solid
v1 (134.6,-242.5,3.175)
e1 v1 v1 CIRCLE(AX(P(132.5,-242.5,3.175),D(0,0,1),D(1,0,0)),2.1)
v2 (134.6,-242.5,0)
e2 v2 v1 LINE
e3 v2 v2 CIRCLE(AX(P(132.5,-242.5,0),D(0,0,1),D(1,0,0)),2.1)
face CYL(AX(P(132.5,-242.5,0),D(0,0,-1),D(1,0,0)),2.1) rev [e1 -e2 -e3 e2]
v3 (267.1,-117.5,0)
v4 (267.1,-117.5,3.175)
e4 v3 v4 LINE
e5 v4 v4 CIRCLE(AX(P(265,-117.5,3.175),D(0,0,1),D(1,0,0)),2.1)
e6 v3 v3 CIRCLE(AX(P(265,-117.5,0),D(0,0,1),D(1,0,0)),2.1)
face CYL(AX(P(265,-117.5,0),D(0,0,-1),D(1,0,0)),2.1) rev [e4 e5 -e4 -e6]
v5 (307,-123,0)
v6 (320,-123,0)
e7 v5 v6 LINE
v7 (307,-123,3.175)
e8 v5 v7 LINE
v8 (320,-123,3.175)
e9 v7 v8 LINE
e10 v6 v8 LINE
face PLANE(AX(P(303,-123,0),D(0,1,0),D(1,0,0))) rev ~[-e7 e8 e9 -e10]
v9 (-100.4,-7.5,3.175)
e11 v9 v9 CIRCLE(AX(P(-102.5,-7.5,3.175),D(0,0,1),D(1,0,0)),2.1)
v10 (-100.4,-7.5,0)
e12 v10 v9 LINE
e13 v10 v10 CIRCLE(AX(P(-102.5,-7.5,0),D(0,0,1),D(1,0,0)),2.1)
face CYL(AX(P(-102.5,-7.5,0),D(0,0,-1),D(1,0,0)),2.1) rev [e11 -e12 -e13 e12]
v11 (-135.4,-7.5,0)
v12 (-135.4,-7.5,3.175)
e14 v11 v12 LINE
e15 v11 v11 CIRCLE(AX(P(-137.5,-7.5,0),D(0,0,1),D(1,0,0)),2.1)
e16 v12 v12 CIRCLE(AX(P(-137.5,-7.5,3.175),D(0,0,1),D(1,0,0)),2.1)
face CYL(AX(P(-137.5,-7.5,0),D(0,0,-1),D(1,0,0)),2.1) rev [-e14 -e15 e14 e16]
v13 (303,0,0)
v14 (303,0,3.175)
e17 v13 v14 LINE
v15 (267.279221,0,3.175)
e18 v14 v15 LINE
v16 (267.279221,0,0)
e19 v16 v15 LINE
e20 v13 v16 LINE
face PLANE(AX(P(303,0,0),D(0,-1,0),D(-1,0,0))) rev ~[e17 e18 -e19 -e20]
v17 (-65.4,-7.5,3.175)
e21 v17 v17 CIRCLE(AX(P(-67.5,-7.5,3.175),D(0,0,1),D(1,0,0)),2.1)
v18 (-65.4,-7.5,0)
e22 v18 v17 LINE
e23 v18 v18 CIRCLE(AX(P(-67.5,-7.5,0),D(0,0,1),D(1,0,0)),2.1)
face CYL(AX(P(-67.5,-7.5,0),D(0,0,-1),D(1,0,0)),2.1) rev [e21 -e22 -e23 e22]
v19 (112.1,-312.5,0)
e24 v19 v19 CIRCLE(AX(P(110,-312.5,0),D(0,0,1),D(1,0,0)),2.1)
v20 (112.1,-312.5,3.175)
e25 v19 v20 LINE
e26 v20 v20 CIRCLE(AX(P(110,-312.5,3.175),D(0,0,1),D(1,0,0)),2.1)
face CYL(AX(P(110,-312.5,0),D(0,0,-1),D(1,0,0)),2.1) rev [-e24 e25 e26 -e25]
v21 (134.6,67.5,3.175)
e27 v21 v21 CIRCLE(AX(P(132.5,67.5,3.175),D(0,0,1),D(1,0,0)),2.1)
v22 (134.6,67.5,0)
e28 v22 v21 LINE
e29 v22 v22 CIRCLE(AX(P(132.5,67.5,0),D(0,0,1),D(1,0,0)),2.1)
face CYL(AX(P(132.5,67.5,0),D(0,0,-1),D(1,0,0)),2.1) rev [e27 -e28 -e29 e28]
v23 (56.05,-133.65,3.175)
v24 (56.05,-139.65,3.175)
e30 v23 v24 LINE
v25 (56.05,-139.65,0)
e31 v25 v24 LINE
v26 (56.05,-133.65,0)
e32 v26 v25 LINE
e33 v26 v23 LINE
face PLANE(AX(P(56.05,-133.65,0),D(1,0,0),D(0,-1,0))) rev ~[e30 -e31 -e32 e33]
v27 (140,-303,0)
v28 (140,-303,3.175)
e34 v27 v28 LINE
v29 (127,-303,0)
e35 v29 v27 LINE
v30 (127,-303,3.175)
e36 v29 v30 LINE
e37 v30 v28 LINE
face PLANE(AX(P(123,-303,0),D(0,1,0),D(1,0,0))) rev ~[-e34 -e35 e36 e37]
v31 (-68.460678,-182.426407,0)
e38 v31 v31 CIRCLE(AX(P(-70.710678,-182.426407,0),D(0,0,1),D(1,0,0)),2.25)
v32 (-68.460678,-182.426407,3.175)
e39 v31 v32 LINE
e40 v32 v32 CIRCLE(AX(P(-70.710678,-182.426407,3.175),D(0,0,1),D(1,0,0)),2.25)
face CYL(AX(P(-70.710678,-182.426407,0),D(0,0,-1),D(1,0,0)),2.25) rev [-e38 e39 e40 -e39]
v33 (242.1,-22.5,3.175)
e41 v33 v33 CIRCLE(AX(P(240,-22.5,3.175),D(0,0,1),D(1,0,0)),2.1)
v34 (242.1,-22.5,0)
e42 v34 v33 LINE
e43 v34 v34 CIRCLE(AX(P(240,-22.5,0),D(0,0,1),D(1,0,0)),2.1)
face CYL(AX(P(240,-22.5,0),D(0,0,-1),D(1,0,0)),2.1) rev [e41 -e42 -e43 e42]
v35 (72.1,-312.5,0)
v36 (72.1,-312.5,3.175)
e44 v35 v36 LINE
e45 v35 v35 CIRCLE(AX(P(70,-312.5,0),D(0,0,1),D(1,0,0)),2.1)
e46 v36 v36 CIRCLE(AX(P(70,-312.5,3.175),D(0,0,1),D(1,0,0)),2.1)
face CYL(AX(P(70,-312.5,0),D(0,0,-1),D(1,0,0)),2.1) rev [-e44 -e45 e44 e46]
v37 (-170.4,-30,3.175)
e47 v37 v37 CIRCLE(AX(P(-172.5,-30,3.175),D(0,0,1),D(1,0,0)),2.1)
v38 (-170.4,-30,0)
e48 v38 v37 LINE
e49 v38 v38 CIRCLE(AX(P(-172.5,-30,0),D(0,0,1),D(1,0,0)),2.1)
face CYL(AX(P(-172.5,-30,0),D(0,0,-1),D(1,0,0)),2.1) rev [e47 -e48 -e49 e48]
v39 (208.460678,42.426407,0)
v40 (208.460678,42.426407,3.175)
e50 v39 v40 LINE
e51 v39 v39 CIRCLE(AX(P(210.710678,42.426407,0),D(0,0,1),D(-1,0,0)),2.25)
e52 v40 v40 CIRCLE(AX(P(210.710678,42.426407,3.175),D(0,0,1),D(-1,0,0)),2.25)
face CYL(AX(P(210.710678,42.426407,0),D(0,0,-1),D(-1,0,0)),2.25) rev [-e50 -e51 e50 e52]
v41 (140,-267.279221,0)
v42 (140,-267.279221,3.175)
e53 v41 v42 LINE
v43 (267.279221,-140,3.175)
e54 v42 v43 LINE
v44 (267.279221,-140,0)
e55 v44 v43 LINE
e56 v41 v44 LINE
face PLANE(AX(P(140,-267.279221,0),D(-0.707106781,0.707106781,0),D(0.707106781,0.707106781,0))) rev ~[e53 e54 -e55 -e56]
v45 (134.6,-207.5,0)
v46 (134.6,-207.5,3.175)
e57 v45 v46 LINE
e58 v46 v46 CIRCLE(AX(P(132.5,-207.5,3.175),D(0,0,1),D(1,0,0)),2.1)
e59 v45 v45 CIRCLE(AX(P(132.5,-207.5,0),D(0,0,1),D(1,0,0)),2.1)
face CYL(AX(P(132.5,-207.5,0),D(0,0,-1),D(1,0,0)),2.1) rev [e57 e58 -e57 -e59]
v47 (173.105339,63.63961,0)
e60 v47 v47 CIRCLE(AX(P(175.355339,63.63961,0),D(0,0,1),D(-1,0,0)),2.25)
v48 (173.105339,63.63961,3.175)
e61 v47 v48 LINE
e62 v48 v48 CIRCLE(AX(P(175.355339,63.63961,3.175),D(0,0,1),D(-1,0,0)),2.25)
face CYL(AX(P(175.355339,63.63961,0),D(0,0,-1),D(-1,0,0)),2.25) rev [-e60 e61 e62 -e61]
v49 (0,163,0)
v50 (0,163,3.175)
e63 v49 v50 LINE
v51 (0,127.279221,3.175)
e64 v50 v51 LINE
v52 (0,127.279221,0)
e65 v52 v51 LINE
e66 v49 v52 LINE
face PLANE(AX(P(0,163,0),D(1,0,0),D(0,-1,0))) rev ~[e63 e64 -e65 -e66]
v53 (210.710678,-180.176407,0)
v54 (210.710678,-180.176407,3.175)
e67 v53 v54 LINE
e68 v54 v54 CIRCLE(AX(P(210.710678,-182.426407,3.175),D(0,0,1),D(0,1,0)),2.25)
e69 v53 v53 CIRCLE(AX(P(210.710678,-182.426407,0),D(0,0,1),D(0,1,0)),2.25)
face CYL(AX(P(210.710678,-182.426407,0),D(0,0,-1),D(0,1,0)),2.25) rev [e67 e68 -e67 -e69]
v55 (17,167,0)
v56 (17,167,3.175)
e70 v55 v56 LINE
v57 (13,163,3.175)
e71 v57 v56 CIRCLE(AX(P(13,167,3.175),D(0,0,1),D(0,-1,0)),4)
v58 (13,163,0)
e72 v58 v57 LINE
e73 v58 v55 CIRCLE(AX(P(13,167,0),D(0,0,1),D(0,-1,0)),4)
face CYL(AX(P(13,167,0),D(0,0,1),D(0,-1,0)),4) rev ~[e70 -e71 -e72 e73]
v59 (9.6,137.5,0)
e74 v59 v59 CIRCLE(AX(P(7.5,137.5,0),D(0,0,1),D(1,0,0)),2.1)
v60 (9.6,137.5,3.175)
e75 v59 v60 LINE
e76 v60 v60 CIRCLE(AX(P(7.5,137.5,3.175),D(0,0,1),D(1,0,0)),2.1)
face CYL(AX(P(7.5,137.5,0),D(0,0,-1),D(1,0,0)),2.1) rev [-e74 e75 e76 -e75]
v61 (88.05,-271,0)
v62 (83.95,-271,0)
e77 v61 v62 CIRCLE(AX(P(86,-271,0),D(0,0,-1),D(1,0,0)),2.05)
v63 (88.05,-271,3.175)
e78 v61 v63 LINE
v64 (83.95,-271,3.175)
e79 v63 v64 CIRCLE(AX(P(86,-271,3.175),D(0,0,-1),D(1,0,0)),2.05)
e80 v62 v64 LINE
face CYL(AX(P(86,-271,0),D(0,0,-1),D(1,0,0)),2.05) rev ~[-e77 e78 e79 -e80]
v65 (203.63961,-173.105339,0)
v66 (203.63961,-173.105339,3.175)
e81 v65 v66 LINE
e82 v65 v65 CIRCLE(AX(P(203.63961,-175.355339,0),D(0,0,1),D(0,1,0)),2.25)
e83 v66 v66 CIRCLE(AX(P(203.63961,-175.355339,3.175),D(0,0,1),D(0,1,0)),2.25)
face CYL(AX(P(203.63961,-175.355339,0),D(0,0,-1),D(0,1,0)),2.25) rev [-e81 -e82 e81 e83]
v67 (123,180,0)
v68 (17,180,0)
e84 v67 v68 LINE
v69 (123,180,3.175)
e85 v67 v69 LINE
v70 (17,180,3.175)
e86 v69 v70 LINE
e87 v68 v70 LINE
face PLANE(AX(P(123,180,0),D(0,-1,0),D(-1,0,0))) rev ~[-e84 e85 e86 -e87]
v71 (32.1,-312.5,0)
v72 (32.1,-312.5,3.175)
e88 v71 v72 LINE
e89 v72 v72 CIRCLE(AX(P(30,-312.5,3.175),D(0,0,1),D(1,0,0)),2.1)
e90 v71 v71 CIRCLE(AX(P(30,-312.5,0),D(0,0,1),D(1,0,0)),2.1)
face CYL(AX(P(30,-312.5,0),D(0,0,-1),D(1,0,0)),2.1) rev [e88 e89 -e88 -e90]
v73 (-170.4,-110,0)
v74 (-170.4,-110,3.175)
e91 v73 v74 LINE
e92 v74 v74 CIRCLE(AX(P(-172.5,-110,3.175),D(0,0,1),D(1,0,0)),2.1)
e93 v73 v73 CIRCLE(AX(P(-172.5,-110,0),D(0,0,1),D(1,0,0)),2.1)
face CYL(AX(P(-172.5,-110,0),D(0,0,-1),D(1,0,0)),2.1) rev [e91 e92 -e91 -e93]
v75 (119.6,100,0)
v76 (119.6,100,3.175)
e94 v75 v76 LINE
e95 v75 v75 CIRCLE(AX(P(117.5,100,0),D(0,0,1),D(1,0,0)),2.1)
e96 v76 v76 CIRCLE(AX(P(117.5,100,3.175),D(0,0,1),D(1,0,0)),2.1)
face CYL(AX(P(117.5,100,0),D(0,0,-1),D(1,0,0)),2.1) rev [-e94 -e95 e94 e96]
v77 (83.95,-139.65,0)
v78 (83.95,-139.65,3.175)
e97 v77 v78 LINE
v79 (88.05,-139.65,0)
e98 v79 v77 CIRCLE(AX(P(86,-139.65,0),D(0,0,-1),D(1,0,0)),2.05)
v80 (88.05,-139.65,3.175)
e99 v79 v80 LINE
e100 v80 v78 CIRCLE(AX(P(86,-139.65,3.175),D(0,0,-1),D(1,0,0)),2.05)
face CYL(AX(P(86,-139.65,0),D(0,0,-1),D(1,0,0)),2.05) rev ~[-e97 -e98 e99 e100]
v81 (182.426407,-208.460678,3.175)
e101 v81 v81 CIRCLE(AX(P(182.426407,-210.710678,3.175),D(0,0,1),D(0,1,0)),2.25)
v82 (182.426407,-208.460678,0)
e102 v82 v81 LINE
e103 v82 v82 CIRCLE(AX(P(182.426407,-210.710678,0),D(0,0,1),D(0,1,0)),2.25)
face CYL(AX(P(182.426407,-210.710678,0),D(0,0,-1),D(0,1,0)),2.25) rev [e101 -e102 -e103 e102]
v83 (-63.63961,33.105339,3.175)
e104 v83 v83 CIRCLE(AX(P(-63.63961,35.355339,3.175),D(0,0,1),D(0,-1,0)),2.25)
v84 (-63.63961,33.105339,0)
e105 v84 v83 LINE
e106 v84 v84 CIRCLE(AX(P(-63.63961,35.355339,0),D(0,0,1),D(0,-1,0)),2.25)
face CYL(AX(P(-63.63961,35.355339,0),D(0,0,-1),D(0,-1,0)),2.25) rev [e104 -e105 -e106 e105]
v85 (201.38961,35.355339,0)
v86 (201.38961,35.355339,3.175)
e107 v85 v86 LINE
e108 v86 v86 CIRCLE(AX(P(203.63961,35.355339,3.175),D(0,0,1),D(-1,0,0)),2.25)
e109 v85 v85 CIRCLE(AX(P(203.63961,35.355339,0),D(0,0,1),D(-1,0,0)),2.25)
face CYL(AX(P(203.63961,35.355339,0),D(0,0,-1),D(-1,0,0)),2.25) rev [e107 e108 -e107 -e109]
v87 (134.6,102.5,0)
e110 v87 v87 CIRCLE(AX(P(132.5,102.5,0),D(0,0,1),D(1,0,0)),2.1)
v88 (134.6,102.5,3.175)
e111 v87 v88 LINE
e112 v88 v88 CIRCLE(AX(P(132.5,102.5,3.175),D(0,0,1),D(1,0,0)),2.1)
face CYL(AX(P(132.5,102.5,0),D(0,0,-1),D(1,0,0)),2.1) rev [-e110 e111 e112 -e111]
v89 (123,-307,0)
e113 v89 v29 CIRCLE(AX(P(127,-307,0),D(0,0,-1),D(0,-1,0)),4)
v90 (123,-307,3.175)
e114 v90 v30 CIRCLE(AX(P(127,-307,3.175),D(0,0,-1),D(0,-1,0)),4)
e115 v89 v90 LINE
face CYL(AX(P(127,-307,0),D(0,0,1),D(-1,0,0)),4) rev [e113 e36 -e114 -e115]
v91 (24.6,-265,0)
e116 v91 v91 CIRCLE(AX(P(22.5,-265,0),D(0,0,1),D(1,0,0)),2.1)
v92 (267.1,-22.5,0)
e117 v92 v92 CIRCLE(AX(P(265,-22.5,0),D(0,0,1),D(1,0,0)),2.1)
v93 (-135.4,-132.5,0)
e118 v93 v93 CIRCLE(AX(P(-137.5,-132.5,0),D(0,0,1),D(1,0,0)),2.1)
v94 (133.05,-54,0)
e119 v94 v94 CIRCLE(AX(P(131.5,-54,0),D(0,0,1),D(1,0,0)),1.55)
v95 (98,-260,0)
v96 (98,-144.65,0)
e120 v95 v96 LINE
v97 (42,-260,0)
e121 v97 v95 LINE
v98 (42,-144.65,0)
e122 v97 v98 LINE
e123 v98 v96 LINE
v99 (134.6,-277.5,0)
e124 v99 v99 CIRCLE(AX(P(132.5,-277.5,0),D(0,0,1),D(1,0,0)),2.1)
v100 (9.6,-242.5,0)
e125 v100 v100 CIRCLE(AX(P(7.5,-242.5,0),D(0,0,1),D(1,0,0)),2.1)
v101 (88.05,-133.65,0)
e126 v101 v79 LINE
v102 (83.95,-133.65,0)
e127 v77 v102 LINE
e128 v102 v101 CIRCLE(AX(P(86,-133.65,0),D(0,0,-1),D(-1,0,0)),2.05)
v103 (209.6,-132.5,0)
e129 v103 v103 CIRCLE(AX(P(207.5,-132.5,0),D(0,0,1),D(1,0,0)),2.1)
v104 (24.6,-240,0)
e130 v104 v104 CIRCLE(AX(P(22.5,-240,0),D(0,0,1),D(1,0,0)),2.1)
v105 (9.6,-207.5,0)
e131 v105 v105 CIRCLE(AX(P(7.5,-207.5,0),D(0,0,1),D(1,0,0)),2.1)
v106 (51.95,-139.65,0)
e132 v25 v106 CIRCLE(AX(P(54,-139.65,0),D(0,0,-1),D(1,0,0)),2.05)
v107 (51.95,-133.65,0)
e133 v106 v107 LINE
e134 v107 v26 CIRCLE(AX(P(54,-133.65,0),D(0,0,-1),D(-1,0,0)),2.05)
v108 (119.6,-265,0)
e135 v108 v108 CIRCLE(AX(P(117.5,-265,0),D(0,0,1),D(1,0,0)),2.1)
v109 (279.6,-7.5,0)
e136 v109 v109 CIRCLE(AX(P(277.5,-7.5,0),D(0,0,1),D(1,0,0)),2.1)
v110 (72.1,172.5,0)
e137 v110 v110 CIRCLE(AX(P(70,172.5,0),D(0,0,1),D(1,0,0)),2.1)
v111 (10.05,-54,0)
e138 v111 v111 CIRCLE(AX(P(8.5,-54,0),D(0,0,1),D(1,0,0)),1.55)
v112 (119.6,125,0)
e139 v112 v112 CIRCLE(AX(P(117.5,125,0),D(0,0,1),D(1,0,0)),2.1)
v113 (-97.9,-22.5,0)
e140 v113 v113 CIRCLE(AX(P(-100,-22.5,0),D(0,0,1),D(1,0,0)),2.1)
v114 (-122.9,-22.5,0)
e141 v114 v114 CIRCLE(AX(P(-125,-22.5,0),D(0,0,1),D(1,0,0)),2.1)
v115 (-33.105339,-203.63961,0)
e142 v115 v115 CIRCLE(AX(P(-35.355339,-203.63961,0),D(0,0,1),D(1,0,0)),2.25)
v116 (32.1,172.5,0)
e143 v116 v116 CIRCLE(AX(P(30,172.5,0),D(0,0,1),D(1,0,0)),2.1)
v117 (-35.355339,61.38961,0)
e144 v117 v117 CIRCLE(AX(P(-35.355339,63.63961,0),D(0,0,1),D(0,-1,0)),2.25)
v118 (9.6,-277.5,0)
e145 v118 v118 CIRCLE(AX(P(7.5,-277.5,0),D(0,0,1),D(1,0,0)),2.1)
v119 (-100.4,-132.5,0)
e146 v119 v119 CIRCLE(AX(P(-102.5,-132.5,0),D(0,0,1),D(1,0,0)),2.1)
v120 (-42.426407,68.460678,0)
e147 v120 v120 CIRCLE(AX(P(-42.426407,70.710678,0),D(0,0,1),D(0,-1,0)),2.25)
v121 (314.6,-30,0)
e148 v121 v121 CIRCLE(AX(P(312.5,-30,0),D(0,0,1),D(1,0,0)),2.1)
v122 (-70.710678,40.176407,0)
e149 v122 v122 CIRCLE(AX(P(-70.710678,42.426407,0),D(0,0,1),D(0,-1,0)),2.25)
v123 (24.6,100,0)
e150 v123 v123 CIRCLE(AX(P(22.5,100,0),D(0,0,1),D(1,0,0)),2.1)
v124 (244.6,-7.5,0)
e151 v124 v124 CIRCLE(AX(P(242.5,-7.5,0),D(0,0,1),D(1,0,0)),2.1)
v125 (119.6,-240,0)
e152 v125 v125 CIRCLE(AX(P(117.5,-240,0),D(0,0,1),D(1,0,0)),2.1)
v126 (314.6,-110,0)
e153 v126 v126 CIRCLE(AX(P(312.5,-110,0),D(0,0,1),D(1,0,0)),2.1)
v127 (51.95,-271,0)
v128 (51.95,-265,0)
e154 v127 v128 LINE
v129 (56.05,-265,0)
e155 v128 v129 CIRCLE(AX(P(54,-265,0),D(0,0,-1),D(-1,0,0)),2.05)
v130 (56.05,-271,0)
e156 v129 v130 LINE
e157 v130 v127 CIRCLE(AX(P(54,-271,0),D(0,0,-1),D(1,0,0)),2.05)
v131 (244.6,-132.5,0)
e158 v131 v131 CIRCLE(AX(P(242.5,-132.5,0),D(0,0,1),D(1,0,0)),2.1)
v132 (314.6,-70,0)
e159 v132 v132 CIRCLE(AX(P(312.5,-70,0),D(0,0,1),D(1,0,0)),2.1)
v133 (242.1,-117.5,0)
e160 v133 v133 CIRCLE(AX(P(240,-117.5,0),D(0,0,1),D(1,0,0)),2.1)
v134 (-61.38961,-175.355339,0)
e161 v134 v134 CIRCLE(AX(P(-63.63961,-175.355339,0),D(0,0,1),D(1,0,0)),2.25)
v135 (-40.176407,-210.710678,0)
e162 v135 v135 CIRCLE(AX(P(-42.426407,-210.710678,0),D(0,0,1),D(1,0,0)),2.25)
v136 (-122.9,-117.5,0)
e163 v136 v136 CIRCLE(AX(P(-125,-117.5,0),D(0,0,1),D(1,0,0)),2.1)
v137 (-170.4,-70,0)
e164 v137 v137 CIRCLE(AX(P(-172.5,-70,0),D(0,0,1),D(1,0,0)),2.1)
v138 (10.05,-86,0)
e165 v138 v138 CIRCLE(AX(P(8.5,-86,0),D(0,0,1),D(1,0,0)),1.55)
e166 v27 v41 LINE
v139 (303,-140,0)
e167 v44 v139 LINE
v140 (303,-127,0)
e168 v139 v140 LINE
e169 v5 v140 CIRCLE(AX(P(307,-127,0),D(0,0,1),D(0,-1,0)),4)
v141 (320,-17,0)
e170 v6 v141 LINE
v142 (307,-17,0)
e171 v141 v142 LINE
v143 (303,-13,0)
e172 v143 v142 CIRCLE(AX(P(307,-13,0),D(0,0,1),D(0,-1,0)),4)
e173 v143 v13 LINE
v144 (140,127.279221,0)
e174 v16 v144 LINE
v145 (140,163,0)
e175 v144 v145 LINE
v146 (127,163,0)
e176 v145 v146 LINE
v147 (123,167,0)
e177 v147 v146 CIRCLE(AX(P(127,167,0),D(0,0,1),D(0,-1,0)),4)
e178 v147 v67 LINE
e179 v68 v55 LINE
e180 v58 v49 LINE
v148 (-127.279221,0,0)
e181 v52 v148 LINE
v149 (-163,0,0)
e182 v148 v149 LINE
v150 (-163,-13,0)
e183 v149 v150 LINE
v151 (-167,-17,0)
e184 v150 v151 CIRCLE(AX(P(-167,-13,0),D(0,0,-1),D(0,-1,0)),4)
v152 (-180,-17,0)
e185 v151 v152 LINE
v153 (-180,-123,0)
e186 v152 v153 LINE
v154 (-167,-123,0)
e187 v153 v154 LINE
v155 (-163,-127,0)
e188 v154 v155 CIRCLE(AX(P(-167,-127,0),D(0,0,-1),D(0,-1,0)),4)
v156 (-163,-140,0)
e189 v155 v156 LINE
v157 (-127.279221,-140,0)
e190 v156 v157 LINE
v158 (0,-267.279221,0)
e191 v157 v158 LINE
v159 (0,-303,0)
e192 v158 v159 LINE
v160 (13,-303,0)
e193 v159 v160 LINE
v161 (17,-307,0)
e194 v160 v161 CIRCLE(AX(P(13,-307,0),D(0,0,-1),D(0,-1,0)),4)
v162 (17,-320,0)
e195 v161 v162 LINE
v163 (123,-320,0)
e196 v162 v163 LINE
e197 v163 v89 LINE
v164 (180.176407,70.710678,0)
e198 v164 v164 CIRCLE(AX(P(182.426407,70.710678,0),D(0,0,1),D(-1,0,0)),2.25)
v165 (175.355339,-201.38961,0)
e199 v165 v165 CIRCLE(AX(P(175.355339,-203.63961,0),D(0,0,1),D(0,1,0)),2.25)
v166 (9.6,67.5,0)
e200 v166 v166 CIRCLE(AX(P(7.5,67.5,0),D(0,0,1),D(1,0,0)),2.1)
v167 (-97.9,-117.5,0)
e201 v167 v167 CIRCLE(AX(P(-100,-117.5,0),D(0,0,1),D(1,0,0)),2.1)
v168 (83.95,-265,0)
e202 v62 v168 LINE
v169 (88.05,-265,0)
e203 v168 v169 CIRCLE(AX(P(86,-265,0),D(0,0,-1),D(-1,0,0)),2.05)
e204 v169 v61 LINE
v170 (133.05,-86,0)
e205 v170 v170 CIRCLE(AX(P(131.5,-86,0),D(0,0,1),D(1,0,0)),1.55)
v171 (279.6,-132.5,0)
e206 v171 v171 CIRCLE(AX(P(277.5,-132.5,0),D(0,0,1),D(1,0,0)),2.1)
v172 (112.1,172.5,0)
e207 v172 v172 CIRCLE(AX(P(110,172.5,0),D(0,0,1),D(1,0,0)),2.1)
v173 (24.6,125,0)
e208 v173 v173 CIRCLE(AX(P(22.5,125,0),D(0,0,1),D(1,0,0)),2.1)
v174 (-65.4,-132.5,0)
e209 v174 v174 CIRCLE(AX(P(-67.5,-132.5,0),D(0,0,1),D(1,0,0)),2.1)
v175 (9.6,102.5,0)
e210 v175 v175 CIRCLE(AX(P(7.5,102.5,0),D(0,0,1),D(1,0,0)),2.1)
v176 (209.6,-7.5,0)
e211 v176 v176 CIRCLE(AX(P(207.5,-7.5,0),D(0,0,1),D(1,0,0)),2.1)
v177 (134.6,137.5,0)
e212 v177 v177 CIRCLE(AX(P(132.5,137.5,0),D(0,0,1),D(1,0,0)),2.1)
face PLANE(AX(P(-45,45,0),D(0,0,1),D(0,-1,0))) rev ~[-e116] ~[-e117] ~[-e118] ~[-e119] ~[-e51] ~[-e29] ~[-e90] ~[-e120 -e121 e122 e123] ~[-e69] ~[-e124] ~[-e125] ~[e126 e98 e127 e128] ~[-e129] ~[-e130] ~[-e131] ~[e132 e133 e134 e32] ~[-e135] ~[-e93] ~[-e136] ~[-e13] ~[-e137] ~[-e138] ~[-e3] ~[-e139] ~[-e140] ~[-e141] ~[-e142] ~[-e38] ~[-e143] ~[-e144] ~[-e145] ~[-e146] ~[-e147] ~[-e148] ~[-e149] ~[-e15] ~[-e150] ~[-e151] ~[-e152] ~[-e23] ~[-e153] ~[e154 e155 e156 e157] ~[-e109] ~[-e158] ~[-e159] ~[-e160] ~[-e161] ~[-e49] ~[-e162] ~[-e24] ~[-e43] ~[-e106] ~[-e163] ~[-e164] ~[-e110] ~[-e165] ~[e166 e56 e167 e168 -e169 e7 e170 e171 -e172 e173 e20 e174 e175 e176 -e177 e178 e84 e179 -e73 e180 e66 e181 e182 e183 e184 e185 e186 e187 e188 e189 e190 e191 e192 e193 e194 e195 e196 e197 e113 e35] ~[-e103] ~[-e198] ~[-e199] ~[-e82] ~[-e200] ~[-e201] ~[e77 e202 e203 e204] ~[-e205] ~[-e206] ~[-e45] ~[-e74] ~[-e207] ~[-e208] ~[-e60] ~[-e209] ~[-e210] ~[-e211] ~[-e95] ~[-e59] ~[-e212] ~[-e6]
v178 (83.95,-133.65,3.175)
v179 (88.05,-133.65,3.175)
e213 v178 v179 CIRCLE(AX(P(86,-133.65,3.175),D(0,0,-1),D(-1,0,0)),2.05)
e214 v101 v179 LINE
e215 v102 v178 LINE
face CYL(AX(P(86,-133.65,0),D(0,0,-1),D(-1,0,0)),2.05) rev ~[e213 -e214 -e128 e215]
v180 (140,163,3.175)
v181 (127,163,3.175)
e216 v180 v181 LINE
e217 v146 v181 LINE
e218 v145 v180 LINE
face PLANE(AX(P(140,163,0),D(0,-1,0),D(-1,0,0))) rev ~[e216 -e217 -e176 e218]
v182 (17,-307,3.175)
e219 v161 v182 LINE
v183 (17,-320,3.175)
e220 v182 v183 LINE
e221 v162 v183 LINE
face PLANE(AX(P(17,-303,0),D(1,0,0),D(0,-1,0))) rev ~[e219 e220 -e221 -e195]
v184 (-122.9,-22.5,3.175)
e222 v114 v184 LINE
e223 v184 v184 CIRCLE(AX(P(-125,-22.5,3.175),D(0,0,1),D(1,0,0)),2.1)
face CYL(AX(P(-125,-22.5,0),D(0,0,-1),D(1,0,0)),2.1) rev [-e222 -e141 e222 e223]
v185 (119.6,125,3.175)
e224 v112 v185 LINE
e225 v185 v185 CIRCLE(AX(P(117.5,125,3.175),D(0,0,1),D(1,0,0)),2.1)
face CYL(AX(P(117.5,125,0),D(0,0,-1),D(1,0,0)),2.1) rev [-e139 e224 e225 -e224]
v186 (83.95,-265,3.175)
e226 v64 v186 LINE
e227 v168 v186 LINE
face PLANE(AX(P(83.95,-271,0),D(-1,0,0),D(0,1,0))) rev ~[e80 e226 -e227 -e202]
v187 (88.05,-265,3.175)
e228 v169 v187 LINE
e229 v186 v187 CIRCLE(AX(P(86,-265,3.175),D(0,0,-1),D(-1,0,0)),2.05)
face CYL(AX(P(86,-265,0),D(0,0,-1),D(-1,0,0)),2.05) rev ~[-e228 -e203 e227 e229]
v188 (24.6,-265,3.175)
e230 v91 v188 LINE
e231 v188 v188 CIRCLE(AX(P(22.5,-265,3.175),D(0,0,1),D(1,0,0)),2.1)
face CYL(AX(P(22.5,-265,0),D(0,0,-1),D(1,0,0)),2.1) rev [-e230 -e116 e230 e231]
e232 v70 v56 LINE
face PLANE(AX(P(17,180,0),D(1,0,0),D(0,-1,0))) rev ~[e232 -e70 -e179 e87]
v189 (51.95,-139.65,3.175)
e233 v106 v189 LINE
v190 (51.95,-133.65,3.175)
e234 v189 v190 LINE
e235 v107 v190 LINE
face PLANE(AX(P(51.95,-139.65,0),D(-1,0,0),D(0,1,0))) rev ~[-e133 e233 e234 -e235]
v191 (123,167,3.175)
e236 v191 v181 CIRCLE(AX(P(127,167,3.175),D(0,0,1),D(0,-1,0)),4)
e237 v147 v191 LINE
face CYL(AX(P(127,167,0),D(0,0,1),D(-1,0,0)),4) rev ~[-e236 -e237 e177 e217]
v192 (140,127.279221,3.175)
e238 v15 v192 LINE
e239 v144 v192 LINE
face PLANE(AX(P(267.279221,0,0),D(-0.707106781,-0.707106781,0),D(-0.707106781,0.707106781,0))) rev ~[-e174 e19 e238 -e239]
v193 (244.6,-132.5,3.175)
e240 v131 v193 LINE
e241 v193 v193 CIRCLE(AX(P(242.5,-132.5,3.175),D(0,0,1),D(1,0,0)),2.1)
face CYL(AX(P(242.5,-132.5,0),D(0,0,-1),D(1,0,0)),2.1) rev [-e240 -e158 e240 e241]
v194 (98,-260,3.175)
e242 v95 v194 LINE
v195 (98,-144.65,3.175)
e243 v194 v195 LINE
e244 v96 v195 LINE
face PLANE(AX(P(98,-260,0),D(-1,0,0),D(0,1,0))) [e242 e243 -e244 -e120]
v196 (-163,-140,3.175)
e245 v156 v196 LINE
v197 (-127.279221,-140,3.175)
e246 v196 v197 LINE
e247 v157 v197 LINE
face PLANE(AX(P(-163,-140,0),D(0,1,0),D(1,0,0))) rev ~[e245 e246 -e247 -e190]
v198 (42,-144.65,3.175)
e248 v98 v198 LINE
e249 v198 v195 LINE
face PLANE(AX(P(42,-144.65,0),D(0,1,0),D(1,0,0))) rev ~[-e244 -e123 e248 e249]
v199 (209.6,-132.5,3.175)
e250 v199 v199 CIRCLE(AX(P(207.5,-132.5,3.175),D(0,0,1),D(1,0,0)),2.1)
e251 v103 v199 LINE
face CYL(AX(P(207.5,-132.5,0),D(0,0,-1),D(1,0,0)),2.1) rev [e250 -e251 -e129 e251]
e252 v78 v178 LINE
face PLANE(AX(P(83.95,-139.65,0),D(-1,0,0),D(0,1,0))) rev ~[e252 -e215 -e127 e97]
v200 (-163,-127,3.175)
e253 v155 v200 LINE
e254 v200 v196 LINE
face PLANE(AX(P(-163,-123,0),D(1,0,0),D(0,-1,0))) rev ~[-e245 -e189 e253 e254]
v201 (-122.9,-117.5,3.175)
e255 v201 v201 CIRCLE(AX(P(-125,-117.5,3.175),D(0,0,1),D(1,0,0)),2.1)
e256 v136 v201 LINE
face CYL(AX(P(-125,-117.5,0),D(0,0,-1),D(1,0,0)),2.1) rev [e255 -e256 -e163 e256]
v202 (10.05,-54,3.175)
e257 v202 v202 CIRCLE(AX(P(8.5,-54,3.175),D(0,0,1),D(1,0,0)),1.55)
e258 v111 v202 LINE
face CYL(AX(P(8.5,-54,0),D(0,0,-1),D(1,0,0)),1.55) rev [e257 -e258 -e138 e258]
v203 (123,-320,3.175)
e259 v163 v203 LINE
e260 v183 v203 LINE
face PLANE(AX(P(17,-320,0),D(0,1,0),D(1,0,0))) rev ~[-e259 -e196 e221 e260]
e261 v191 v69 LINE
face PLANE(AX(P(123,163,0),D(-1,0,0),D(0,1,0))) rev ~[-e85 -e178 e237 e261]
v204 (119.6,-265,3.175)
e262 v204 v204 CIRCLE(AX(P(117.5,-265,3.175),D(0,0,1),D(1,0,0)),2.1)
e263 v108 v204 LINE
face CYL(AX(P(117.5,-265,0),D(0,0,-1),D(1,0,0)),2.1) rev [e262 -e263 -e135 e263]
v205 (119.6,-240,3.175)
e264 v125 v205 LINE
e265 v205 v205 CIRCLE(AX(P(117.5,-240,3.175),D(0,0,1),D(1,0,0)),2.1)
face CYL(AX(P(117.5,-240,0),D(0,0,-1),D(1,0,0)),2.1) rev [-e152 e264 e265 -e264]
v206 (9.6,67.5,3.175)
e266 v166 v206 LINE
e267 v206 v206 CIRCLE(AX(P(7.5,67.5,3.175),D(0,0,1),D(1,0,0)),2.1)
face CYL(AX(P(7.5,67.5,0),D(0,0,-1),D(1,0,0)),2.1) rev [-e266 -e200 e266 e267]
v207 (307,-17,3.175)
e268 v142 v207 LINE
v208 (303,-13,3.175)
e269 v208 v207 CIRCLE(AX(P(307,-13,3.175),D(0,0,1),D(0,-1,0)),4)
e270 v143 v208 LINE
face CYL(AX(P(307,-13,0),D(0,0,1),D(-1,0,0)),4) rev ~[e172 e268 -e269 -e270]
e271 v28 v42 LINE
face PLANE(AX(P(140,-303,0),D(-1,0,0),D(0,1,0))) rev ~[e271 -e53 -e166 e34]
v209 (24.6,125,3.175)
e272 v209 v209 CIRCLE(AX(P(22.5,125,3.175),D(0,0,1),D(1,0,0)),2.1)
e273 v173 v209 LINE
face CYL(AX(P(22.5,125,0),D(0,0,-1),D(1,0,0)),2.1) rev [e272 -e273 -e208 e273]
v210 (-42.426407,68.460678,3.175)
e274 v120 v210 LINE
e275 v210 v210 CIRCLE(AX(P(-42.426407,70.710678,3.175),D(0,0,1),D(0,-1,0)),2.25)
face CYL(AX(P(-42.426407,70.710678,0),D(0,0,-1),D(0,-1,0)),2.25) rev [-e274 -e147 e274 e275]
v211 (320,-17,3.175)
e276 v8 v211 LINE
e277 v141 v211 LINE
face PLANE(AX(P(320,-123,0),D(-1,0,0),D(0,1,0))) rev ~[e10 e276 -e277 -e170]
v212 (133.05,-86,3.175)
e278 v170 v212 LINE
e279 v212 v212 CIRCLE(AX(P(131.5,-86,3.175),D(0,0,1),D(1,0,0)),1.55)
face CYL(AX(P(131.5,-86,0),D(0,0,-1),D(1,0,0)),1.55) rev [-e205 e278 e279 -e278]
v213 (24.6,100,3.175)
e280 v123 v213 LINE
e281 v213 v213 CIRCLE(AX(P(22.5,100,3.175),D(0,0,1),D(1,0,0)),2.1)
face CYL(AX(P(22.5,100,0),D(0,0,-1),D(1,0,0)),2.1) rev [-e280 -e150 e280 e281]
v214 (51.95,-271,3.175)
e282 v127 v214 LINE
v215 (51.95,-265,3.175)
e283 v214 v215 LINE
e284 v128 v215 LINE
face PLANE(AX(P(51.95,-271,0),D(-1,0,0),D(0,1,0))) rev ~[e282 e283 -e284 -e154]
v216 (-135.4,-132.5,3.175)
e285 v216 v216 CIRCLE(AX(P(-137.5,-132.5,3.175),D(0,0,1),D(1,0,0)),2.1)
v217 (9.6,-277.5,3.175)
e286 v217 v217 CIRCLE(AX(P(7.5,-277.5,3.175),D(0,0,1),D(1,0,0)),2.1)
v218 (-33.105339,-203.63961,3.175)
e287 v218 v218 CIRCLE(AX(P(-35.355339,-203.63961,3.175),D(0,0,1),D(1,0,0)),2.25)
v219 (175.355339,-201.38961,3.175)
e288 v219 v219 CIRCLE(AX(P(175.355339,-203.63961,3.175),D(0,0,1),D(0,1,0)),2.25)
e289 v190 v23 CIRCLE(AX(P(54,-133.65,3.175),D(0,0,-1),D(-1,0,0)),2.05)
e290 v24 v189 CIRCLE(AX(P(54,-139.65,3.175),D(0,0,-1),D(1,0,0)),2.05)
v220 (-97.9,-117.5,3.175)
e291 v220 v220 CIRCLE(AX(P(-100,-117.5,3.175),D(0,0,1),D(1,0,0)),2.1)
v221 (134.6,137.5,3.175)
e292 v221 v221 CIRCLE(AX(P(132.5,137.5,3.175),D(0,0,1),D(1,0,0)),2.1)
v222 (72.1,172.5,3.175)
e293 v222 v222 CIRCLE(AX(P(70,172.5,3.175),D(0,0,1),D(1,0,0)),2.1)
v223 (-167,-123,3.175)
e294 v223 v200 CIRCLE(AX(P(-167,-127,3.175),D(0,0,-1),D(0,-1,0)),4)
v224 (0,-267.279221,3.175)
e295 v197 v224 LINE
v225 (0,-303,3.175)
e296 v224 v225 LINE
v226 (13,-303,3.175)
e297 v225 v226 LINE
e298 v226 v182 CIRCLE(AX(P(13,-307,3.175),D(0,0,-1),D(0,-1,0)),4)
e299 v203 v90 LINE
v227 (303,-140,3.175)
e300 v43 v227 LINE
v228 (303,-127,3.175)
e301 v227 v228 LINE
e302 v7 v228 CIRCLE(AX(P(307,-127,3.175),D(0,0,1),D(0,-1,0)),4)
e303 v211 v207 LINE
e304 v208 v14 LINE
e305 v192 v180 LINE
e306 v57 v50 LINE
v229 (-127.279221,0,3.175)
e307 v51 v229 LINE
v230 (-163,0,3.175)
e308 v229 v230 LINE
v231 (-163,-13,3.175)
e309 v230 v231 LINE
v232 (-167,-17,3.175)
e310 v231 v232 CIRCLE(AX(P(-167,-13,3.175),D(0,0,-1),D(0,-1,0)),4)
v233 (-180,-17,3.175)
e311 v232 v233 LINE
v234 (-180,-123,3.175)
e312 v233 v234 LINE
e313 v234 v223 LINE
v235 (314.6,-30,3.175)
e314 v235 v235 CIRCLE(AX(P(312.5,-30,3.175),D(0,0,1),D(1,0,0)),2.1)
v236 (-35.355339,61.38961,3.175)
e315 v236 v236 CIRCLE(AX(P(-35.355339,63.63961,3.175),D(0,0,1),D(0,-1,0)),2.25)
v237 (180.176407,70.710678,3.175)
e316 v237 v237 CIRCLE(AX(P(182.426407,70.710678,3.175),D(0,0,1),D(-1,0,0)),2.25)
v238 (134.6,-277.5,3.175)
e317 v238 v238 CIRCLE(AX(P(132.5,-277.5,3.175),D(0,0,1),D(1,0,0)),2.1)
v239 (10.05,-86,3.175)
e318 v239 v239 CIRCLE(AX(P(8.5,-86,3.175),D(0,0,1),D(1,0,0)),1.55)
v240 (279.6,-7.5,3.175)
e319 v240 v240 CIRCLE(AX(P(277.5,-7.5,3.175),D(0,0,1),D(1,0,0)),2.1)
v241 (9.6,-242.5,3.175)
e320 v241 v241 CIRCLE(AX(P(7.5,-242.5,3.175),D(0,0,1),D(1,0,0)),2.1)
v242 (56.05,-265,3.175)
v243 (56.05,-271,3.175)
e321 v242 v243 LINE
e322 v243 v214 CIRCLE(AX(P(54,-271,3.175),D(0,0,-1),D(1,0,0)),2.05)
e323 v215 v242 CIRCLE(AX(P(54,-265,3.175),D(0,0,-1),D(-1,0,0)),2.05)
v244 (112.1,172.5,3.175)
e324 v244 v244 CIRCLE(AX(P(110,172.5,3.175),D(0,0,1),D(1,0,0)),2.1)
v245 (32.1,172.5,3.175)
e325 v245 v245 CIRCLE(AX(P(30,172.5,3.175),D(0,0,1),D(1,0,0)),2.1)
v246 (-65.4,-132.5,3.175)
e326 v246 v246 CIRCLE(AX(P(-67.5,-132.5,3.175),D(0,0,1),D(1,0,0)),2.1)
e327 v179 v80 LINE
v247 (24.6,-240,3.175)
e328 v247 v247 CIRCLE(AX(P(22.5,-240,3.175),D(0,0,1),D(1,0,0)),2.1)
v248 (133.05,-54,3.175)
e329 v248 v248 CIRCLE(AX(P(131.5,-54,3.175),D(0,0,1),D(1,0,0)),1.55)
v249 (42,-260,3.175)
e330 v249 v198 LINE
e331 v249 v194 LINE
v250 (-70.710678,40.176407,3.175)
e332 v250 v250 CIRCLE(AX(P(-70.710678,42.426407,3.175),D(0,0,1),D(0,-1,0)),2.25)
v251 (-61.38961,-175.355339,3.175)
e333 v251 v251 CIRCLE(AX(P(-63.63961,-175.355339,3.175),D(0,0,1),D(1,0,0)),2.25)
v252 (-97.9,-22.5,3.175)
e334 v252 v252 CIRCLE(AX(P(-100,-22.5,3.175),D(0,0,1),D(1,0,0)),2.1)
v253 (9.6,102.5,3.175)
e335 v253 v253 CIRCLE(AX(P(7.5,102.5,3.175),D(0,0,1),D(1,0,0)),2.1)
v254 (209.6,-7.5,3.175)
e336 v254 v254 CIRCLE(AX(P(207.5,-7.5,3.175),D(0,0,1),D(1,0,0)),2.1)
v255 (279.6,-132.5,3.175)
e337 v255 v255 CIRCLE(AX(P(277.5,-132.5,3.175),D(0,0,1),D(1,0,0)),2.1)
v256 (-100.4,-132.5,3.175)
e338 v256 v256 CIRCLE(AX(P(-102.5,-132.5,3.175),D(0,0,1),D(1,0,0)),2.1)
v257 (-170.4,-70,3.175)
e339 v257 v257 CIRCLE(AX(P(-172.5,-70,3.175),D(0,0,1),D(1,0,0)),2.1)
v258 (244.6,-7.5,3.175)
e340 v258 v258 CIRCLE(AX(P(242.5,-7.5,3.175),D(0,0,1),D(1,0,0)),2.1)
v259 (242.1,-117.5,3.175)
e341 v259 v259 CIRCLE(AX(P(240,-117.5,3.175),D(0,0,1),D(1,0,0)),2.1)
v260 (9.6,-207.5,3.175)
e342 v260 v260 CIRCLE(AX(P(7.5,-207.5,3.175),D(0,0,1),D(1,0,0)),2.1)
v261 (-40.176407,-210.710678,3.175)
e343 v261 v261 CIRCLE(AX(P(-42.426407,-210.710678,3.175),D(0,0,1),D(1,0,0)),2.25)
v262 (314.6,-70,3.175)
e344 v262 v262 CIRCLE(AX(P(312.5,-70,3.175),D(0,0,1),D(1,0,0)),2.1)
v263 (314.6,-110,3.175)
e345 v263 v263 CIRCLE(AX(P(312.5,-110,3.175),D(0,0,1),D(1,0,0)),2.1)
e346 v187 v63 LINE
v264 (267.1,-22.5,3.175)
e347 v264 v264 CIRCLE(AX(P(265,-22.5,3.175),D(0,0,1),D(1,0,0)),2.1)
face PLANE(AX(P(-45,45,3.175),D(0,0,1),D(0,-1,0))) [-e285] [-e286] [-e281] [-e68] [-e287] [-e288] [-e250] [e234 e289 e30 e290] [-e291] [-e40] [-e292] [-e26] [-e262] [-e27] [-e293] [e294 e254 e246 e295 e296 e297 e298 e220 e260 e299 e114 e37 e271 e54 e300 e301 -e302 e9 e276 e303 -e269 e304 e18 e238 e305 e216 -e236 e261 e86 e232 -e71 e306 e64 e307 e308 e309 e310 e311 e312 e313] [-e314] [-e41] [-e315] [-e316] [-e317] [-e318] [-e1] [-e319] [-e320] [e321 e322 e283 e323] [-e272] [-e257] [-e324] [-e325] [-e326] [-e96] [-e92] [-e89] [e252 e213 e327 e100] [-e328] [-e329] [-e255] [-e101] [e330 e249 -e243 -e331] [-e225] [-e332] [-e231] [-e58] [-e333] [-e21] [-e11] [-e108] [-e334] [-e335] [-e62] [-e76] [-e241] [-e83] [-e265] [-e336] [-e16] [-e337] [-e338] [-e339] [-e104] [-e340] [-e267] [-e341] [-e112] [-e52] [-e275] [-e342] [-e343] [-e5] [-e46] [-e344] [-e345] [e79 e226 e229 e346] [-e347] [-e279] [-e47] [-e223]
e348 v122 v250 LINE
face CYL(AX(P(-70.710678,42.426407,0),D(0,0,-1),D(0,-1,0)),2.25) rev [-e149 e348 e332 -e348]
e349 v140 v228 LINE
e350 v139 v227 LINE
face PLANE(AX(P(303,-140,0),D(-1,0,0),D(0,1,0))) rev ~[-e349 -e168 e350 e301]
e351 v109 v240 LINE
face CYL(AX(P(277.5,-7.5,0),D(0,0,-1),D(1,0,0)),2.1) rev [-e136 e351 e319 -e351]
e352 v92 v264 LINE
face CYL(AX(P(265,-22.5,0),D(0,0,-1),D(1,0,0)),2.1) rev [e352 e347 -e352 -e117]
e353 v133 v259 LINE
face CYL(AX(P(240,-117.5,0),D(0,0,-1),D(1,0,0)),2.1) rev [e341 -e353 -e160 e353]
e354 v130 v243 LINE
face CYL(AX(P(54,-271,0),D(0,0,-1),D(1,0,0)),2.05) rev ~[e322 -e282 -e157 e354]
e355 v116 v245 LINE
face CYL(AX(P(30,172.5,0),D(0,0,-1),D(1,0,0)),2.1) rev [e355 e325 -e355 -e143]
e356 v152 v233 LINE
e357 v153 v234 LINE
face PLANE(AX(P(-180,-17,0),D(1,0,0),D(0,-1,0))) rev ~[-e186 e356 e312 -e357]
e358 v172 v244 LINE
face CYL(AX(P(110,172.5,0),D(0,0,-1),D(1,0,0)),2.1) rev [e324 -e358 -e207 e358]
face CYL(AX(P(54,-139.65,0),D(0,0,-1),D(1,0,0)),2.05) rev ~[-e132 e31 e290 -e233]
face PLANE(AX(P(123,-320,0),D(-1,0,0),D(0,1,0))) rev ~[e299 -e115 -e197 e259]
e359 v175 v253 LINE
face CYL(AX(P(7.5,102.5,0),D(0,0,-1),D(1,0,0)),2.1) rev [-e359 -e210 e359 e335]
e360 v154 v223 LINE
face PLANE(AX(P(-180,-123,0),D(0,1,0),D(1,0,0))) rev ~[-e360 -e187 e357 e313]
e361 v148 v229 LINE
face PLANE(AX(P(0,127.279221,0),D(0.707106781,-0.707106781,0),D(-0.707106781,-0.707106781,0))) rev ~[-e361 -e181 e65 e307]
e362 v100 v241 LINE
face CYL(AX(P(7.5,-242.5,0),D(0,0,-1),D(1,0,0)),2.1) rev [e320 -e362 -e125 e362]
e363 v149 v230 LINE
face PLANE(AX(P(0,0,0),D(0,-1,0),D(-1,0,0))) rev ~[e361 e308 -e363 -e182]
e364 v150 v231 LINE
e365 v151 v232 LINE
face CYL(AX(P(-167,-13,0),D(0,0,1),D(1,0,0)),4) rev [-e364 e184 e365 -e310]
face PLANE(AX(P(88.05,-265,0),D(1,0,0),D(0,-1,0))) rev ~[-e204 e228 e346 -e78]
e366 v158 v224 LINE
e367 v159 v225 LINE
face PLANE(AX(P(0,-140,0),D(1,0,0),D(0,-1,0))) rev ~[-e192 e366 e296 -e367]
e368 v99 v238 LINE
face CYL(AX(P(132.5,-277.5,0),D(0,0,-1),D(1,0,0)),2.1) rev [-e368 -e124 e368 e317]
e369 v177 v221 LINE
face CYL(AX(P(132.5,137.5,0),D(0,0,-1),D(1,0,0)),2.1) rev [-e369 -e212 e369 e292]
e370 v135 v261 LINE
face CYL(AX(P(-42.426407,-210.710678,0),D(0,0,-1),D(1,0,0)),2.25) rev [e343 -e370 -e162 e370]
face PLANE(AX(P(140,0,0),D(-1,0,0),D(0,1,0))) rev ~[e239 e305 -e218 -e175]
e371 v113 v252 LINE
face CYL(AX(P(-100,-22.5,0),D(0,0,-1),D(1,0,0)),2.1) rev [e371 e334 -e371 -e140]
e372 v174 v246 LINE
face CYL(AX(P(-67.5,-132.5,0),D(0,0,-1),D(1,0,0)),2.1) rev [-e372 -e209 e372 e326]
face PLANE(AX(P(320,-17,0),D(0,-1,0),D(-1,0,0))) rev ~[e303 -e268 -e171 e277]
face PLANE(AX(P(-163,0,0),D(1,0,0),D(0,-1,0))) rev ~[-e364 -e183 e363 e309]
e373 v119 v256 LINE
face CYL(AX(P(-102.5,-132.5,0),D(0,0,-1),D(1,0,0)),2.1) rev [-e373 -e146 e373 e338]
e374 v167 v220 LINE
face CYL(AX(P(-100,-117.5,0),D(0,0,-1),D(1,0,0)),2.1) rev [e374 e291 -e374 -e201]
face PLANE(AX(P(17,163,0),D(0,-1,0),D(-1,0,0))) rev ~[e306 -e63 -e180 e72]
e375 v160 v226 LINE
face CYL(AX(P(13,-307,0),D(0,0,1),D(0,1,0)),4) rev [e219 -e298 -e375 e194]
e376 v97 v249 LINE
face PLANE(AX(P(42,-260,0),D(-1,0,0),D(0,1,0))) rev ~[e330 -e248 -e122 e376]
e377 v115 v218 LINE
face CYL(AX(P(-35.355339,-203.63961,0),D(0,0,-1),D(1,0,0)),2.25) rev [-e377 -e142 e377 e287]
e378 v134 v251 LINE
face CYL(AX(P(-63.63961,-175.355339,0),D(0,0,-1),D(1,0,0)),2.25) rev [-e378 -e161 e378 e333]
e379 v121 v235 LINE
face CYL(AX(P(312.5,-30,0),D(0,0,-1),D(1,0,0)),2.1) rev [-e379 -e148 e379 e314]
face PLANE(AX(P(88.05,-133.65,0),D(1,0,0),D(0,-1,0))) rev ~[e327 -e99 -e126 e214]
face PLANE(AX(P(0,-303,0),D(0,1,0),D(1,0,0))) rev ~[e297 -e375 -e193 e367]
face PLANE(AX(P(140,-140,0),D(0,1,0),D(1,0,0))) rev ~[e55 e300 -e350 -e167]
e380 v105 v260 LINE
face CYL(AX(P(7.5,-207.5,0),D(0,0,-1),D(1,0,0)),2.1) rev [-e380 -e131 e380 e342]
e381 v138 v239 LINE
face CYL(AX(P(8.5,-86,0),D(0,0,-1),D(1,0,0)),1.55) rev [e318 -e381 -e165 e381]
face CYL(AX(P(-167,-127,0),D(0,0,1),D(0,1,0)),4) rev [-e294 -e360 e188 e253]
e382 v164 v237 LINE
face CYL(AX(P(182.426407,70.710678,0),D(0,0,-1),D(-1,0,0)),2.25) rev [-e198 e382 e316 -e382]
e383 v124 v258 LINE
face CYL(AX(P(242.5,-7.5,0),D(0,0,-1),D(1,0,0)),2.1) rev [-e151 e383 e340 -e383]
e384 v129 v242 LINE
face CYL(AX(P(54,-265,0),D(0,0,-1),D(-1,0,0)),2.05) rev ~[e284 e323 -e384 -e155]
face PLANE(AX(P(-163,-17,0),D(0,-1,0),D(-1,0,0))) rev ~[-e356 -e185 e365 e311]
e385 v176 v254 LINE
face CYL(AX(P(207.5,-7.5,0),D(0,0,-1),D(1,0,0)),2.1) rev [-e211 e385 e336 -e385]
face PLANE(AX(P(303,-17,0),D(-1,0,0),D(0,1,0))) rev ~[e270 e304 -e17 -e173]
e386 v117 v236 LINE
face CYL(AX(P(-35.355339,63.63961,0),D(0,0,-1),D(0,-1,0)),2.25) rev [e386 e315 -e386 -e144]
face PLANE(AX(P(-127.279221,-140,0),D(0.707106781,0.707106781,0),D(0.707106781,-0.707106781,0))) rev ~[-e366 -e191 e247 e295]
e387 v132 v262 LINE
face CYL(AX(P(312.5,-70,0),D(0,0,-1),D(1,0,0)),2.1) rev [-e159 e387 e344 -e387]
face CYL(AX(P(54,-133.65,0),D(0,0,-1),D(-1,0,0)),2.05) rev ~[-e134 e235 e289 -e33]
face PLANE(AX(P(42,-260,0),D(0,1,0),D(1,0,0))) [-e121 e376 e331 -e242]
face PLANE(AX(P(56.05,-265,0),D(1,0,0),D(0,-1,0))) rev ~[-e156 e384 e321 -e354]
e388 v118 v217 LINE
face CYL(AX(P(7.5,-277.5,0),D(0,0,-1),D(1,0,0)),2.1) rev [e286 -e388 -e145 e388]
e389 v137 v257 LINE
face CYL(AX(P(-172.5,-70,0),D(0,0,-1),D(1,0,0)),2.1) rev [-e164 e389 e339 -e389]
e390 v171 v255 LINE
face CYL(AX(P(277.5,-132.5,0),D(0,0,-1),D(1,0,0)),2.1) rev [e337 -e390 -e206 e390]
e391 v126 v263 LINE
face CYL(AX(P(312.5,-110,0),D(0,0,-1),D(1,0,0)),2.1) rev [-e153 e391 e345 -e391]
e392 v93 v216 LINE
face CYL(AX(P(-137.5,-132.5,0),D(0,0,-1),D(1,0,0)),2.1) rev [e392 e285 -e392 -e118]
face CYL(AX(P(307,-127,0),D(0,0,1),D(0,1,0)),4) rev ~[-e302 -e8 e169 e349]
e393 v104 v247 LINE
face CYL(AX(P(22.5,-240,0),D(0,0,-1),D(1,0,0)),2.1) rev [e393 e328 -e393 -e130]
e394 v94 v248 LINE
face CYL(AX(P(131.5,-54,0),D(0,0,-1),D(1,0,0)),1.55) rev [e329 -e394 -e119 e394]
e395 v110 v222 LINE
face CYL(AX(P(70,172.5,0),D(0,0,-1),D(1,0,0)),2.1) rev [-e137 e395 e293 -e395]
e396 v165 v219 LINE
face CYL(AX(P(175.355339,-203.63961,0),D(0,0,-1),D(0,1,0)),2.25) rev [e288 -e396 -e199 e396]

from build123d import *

# Parameters (mm, degrees)
SKETCH1_R           = 2.1
SKETCH1_W           = 56
SKETCH1_H           = 115.35
SKETCH1_R_2         = 1.55
BOSS_EXTRUDE1_DEPTH = 3.175
FILLET1_R           = 4
SKETCH10_R          = 2.25
BOSS_EXTRUDE2_DEPTH = 3.175
CIRPATTERN4_COUNT   = 4


with BuildPart() as part:
    # Sketch1 → Boss-Extrude1 (new body)
    with BuildSketch(Plane.XY):
        Polygon((0, 163), (0, 0), (-163, 0), (-163, -17), (-180, -17), (-180, -123), (-163, -123), (-163, -140), (0, -140), (0, -303), (17, -303), (17, -320), (123, -320), (123, -303), (140, -303), (140, -140), (303, -140), (303, -123), (320, -123), (320, -17), (303, -17), (303, 0), (140, 0), (140, 163), (123, 163), (123, 180), (17, 180), (17, 163), align=None)
        with Locations((7.5, -277.5)):
            Circle(SKETCH1_R, mode=Mode.SUBTRACT)
        with Locations((30, -312.5)):
            Circle(SKETCH1_R, mode=Mode.SUBTRACT)
        with Locations((70, -312.5)):
            Circle(SKETCH1_R, mode=Mode.SUBTRACT)
        with Locations((22.5, -265)):
            Circle(SKETCH1_R, mode=Mode.SUBTRACT)
        with BuildLine():
            Line((51.95, -271), (51.95, -265))
            ThreePointArc((51.95, -265), (54, -262.95), (56.05, -265))
            Line((56.05, -265), (56.05, -271))
            ThreePointArc((56.05, -271), (54, -273.05), (51.95, -271))
        make_face(mode=Mode.SUBTRACT)
        with Locations((7.5, -242.5)):
            Circle(SKETCH1_R, mode=Mode.SUBTRACT)
        with Locations((7.5, -207.5)):
            Circle(SKETCH1_R, mode=Mode.SUBTRACT)
        with Locations((22.5, -240)):
            Circle(SKETCH1_R, mode=Mode.SUBTRACT)
        with Locations((70, -202.325)):
            Rectangle(SKETCH1_W, SKETCH1_H, mode=Mode.SUBTRACT)
        with Locations((-172.5, -110)):
            Circle(SKETCH1_R, mode=Mode.SUBTRACT)
        with Locations((-137.5, -132.5)):
            Circle(SKETCH1_R, mode=Mode.SUBTRACT)
        with Locations((-125, -117.5)):
            Circle(SKETCH1_R, mode=Mode.SUBTRACT)
        with Locations((-102.5, -132.5)):
            Circle(SKETCH1_R, mode=Mode.SUBTRACT)
        with Locations((-100, -117.5)):
            Circle(SKETCH1_R, mode=Mode.SUBTRACT)
        with Locations((-67.5, -132.5)):
            Circle(SKETCH1_R, mode=Mode.SUBTRACT)
        with BuildLine():
            ThreePointArc((56.05, -139.65), (54, -141.7), (51.95, -139.65))
            Line((51.95, -139.65), (51.95, -133.65))
            ThreePointArc((51.95, -133.65), (54, -131.6), (56.05, -133.65))
            Line((56.05, -133.65), (56.05, -139.65))
        make_face(mode=Mode.SUBTRACT)
        with Locations((8.5, -86)):
            Circle(SKETCH1_R_2, mode=Mode.SUBTRACT)
        with Locations((110, -312.5)):
            Circle(SKETCH1_R, mode=Mode.SUBTRACT)
        with BuildLine():
            ThreePointArc((83.95, -265), (86, -262.95), (88.05, -265))
            Line((88.05, -265), (88.05, -271))
            ThreePointArc((88.05, -271), (86, -273.05), (83.95, -271))
            Line((83.95, -271), (83.95, -265))
        make_face(mode=Mode.SUBTRACT)
        with Locations((132.5, -277.5)):
            Circle(SKETCH1_R, mode=Mode.SUBTRACT)
        with Locations((117.5, -265)):
            Circle(SKETCH1_R, mode=Mode.SUBTRACT)
        with Locations((132.5, -242.5)):
            Circle(SKETCH1_R, mode=Mode.SUBTRACT)
        with Locations((117.5, -240)):
            Circle(SKETCH1_R, mode=Mode.SUBTRACT)
        with Locations((132.5, -207.5)):
            Circle(SKETCH1_R, mode=Mode.SUBTRACT)
        with BuildLine():
            Line((88.05, -133.65), (88.05, -139.65))
            ThreePointArc((88.05, -139.65), (86, -141.7), (83.95, -139.65))
            Line((83.95, -139.65), (83.95, -133.65))
            ThreePointArc((83.95, -133.65), (86, -131.6), (88.05, -133.65))
        make_face(mode=Mode.SUBTRACT)
        with Locations((131.5, -86)):
            Circle(SKETCH1_R_2, mode=Mode.SUBTRACT)
        with Locations((207.5, -132.5)):
            Circle(SKETCH1_R, mode=Mode.SUBTRACT)
        with Locations((242.5, -132.5)):
            Circle(SKETCH1_R, mode=Mode.SUBTRACT)
        with Locations((277.5, -132.5)):
            Circle(SKETCH1_R, mode=Mode.SUBTRACT)
        with Locations((240, -117.5)):
            Circle(SKETCH1_R, mode=Mode.SUBTRACT)
        with Locations((265, -117.5)):
            Circle(SKETCH1_R, mode=Mode.SUBTRACT)
        with Locations((312.5, -110)):
            Circle(SKETCH1_R, mode=Mode.SUBTRACT)
        with Locations((312.5, -70)):
            Circle(SKETCH1_R, mode=Mode.SUBTRACT)
        with Locations((-172.5, -70)):
            Circle(SKETCH1_R, mode=Mode.SUBTRACT)
        with Locations((-172.5, -30)):
            Circle(SKETCH1_R, mode=Mode.SUBTRACT)
        with Locations((-125, -22.5)):
            Circle(SKETCH1_R, mode=Mode.SUBTRACT)
        with Locations((-100, -22.5)):
            Circle(SKETCH1_R, mode=Mode.SUBTRACT)
        with Locations((-137.5, -7.5)):
            Circle(SKETCH1_R, mode=Mode.SUBTRACT)
        with Locations((-102.5, -7.5)):
            Circle(SKETCH1_R, mode=Mode.SUBTRACT)
        with Locations((-67.5, -7.5)):
            Circle(SKETCH1_R, mode=Mode.SUBTRACT)
        with Locations((8.5, -54)):
            Circle(SKETCH1_R_2, mode=Mode.SUBTRACT)
        with Locations((7.5, 67.5)):
            Circle(SKETCH1_R, mode=Mode.SUBTRACT)
        with Locations((7.5, 102.5)):
            Circle(SKETCH1_R, mode=Mode.SUBTRACT)
        with Locations((22.5, 100)):
            Circle(SKETCH1_R, mode=Mode.SUBTRACT)
        with Locations((7.5, 137.5)):
            Circle(SKETCH1_R, mode=Mode.SUBTRACT)
        with Locations((22.5, 125)):
            Circle(SKETCH1_R, mode=Mode.SUBTRACT)
        with Locations((30, 172.5)):
            Circle(SKETCH1_R, mode=Mode.SUBTRACT)
        with Locations((70, 172.5)):
            Circle(SKETCH1_R, mode=Mode.SUBTRACT)
        with Locations((131.5, -54)):
            Circle(SKETCH1_R_2, mode=Mode.SUBTRACT)
        with Locations((207.5, -7.5)):
            Circle(SKETCH1_R, mode=Mode.SUBTRACT)
        with Locations((240, -22.5)):
            Circle(SKETCH1_R, mode=Mode.SUBTRACT)
        with Locations((242.5, -7.5)):
            Circle(SKETCH1_R, mode=Mode.SUBTRACT)
        with Locations((265, -22.5)):
            Circle(SKETCH1_R, mode=Mode.SUBTRACT)
        with Locations((277.5, -7.5)):
            Circle(SKETCH1_R, mode=Mode.SUBTRACT)
        with Locations((312.5, -30)):
            Circle(SKETCH1_R, mode=Mode.SUBTRACT)
        with Locations((132.5, 67.5)):
            Circle(SKETCH1_R, mode=Mode.SUBTRACT)
        with Locations((117.5, 100)):
            Circle(SKETCH1_R, mode=Mode.SUBTRACT)
        with Locations((132.5, 102.5)):
            Circle(SKETCH1_R, mode=Mode.SUBTRACT)
        with Locations((117.5, 125)):
            Circle(SKETCH1_R, mode=Mode.SUBTRACT)
        with Locations((132.5, 137.5)):
            Circle(SKETCH1_R, mode=Mode.SUBTRACT)
        with Locations((110, 172.5)):
            Circle(SKETCH1_R, mode=Mode.SUBTRACT)
    extrude(amount=BOSS_EXTRUDE1_DEPTH)

    # Fillet1
    fillet1_edges = [part.edges().sort_by_distance(p)[0] for p in [
        (17, -303, 1.5875),
        (0, -140, 1.5875),
        (-163, -123, 1.5875),
        (-163, -17, 1.5875),
        (0, 0, 1.5875),
        (17, 163, 1.5875),
        (123, 163, 1.5875),
        (140, 0, 1.5875),
        (303, -17, 1.5875),
        (303, -123, 1.5875),
        (140, -140, 1.5875),
        (123, -303, 1.5875),
    ]]
    fillet(fillet1_edges, radius=FILLET1_R)

    # Sketch10 → Boss-Extrude2 (add)
    with BuildSketch(Plane.XY):
        Polygon((-127.279220614, -140), (0, -267.279220614), (0, -140), align=None)
        with Locations((-70.710678119, -182.426406871)):
            Circle(SKETCH10_R, mode=Mode.SUBTRACT)
        with Locations((-42.426406871, -210.710678119)):
            Circle(SKETCH10_R, mode=Mode.SUBTRACT)
        with Locations((-63.639610307, -175.355339059)):
            Circle(SKETCH10_R, mode=Mode.SUBTRACT)
        with Locations((-35.355339059, -203.639610307)):
            Circle(SKETCH10_R, mode=Mode.SUBTRACT)
    boss_extrude2 = extrude(amount=BOSS_EXTRUDE2_DEPTH)

    # CirPattern4: Boss-Extrude2 ×4 about axis
    cirpattern4_axis = Axis((70, -70, 0), (0, 0, 1))
    for i in range(1, CIRPATTERN4_COUNT):
        add(boss_extrude2.rotate(cirpattern4_axis, i * 360 / CIRPATTERN4_COUNT))


solid = part.part
